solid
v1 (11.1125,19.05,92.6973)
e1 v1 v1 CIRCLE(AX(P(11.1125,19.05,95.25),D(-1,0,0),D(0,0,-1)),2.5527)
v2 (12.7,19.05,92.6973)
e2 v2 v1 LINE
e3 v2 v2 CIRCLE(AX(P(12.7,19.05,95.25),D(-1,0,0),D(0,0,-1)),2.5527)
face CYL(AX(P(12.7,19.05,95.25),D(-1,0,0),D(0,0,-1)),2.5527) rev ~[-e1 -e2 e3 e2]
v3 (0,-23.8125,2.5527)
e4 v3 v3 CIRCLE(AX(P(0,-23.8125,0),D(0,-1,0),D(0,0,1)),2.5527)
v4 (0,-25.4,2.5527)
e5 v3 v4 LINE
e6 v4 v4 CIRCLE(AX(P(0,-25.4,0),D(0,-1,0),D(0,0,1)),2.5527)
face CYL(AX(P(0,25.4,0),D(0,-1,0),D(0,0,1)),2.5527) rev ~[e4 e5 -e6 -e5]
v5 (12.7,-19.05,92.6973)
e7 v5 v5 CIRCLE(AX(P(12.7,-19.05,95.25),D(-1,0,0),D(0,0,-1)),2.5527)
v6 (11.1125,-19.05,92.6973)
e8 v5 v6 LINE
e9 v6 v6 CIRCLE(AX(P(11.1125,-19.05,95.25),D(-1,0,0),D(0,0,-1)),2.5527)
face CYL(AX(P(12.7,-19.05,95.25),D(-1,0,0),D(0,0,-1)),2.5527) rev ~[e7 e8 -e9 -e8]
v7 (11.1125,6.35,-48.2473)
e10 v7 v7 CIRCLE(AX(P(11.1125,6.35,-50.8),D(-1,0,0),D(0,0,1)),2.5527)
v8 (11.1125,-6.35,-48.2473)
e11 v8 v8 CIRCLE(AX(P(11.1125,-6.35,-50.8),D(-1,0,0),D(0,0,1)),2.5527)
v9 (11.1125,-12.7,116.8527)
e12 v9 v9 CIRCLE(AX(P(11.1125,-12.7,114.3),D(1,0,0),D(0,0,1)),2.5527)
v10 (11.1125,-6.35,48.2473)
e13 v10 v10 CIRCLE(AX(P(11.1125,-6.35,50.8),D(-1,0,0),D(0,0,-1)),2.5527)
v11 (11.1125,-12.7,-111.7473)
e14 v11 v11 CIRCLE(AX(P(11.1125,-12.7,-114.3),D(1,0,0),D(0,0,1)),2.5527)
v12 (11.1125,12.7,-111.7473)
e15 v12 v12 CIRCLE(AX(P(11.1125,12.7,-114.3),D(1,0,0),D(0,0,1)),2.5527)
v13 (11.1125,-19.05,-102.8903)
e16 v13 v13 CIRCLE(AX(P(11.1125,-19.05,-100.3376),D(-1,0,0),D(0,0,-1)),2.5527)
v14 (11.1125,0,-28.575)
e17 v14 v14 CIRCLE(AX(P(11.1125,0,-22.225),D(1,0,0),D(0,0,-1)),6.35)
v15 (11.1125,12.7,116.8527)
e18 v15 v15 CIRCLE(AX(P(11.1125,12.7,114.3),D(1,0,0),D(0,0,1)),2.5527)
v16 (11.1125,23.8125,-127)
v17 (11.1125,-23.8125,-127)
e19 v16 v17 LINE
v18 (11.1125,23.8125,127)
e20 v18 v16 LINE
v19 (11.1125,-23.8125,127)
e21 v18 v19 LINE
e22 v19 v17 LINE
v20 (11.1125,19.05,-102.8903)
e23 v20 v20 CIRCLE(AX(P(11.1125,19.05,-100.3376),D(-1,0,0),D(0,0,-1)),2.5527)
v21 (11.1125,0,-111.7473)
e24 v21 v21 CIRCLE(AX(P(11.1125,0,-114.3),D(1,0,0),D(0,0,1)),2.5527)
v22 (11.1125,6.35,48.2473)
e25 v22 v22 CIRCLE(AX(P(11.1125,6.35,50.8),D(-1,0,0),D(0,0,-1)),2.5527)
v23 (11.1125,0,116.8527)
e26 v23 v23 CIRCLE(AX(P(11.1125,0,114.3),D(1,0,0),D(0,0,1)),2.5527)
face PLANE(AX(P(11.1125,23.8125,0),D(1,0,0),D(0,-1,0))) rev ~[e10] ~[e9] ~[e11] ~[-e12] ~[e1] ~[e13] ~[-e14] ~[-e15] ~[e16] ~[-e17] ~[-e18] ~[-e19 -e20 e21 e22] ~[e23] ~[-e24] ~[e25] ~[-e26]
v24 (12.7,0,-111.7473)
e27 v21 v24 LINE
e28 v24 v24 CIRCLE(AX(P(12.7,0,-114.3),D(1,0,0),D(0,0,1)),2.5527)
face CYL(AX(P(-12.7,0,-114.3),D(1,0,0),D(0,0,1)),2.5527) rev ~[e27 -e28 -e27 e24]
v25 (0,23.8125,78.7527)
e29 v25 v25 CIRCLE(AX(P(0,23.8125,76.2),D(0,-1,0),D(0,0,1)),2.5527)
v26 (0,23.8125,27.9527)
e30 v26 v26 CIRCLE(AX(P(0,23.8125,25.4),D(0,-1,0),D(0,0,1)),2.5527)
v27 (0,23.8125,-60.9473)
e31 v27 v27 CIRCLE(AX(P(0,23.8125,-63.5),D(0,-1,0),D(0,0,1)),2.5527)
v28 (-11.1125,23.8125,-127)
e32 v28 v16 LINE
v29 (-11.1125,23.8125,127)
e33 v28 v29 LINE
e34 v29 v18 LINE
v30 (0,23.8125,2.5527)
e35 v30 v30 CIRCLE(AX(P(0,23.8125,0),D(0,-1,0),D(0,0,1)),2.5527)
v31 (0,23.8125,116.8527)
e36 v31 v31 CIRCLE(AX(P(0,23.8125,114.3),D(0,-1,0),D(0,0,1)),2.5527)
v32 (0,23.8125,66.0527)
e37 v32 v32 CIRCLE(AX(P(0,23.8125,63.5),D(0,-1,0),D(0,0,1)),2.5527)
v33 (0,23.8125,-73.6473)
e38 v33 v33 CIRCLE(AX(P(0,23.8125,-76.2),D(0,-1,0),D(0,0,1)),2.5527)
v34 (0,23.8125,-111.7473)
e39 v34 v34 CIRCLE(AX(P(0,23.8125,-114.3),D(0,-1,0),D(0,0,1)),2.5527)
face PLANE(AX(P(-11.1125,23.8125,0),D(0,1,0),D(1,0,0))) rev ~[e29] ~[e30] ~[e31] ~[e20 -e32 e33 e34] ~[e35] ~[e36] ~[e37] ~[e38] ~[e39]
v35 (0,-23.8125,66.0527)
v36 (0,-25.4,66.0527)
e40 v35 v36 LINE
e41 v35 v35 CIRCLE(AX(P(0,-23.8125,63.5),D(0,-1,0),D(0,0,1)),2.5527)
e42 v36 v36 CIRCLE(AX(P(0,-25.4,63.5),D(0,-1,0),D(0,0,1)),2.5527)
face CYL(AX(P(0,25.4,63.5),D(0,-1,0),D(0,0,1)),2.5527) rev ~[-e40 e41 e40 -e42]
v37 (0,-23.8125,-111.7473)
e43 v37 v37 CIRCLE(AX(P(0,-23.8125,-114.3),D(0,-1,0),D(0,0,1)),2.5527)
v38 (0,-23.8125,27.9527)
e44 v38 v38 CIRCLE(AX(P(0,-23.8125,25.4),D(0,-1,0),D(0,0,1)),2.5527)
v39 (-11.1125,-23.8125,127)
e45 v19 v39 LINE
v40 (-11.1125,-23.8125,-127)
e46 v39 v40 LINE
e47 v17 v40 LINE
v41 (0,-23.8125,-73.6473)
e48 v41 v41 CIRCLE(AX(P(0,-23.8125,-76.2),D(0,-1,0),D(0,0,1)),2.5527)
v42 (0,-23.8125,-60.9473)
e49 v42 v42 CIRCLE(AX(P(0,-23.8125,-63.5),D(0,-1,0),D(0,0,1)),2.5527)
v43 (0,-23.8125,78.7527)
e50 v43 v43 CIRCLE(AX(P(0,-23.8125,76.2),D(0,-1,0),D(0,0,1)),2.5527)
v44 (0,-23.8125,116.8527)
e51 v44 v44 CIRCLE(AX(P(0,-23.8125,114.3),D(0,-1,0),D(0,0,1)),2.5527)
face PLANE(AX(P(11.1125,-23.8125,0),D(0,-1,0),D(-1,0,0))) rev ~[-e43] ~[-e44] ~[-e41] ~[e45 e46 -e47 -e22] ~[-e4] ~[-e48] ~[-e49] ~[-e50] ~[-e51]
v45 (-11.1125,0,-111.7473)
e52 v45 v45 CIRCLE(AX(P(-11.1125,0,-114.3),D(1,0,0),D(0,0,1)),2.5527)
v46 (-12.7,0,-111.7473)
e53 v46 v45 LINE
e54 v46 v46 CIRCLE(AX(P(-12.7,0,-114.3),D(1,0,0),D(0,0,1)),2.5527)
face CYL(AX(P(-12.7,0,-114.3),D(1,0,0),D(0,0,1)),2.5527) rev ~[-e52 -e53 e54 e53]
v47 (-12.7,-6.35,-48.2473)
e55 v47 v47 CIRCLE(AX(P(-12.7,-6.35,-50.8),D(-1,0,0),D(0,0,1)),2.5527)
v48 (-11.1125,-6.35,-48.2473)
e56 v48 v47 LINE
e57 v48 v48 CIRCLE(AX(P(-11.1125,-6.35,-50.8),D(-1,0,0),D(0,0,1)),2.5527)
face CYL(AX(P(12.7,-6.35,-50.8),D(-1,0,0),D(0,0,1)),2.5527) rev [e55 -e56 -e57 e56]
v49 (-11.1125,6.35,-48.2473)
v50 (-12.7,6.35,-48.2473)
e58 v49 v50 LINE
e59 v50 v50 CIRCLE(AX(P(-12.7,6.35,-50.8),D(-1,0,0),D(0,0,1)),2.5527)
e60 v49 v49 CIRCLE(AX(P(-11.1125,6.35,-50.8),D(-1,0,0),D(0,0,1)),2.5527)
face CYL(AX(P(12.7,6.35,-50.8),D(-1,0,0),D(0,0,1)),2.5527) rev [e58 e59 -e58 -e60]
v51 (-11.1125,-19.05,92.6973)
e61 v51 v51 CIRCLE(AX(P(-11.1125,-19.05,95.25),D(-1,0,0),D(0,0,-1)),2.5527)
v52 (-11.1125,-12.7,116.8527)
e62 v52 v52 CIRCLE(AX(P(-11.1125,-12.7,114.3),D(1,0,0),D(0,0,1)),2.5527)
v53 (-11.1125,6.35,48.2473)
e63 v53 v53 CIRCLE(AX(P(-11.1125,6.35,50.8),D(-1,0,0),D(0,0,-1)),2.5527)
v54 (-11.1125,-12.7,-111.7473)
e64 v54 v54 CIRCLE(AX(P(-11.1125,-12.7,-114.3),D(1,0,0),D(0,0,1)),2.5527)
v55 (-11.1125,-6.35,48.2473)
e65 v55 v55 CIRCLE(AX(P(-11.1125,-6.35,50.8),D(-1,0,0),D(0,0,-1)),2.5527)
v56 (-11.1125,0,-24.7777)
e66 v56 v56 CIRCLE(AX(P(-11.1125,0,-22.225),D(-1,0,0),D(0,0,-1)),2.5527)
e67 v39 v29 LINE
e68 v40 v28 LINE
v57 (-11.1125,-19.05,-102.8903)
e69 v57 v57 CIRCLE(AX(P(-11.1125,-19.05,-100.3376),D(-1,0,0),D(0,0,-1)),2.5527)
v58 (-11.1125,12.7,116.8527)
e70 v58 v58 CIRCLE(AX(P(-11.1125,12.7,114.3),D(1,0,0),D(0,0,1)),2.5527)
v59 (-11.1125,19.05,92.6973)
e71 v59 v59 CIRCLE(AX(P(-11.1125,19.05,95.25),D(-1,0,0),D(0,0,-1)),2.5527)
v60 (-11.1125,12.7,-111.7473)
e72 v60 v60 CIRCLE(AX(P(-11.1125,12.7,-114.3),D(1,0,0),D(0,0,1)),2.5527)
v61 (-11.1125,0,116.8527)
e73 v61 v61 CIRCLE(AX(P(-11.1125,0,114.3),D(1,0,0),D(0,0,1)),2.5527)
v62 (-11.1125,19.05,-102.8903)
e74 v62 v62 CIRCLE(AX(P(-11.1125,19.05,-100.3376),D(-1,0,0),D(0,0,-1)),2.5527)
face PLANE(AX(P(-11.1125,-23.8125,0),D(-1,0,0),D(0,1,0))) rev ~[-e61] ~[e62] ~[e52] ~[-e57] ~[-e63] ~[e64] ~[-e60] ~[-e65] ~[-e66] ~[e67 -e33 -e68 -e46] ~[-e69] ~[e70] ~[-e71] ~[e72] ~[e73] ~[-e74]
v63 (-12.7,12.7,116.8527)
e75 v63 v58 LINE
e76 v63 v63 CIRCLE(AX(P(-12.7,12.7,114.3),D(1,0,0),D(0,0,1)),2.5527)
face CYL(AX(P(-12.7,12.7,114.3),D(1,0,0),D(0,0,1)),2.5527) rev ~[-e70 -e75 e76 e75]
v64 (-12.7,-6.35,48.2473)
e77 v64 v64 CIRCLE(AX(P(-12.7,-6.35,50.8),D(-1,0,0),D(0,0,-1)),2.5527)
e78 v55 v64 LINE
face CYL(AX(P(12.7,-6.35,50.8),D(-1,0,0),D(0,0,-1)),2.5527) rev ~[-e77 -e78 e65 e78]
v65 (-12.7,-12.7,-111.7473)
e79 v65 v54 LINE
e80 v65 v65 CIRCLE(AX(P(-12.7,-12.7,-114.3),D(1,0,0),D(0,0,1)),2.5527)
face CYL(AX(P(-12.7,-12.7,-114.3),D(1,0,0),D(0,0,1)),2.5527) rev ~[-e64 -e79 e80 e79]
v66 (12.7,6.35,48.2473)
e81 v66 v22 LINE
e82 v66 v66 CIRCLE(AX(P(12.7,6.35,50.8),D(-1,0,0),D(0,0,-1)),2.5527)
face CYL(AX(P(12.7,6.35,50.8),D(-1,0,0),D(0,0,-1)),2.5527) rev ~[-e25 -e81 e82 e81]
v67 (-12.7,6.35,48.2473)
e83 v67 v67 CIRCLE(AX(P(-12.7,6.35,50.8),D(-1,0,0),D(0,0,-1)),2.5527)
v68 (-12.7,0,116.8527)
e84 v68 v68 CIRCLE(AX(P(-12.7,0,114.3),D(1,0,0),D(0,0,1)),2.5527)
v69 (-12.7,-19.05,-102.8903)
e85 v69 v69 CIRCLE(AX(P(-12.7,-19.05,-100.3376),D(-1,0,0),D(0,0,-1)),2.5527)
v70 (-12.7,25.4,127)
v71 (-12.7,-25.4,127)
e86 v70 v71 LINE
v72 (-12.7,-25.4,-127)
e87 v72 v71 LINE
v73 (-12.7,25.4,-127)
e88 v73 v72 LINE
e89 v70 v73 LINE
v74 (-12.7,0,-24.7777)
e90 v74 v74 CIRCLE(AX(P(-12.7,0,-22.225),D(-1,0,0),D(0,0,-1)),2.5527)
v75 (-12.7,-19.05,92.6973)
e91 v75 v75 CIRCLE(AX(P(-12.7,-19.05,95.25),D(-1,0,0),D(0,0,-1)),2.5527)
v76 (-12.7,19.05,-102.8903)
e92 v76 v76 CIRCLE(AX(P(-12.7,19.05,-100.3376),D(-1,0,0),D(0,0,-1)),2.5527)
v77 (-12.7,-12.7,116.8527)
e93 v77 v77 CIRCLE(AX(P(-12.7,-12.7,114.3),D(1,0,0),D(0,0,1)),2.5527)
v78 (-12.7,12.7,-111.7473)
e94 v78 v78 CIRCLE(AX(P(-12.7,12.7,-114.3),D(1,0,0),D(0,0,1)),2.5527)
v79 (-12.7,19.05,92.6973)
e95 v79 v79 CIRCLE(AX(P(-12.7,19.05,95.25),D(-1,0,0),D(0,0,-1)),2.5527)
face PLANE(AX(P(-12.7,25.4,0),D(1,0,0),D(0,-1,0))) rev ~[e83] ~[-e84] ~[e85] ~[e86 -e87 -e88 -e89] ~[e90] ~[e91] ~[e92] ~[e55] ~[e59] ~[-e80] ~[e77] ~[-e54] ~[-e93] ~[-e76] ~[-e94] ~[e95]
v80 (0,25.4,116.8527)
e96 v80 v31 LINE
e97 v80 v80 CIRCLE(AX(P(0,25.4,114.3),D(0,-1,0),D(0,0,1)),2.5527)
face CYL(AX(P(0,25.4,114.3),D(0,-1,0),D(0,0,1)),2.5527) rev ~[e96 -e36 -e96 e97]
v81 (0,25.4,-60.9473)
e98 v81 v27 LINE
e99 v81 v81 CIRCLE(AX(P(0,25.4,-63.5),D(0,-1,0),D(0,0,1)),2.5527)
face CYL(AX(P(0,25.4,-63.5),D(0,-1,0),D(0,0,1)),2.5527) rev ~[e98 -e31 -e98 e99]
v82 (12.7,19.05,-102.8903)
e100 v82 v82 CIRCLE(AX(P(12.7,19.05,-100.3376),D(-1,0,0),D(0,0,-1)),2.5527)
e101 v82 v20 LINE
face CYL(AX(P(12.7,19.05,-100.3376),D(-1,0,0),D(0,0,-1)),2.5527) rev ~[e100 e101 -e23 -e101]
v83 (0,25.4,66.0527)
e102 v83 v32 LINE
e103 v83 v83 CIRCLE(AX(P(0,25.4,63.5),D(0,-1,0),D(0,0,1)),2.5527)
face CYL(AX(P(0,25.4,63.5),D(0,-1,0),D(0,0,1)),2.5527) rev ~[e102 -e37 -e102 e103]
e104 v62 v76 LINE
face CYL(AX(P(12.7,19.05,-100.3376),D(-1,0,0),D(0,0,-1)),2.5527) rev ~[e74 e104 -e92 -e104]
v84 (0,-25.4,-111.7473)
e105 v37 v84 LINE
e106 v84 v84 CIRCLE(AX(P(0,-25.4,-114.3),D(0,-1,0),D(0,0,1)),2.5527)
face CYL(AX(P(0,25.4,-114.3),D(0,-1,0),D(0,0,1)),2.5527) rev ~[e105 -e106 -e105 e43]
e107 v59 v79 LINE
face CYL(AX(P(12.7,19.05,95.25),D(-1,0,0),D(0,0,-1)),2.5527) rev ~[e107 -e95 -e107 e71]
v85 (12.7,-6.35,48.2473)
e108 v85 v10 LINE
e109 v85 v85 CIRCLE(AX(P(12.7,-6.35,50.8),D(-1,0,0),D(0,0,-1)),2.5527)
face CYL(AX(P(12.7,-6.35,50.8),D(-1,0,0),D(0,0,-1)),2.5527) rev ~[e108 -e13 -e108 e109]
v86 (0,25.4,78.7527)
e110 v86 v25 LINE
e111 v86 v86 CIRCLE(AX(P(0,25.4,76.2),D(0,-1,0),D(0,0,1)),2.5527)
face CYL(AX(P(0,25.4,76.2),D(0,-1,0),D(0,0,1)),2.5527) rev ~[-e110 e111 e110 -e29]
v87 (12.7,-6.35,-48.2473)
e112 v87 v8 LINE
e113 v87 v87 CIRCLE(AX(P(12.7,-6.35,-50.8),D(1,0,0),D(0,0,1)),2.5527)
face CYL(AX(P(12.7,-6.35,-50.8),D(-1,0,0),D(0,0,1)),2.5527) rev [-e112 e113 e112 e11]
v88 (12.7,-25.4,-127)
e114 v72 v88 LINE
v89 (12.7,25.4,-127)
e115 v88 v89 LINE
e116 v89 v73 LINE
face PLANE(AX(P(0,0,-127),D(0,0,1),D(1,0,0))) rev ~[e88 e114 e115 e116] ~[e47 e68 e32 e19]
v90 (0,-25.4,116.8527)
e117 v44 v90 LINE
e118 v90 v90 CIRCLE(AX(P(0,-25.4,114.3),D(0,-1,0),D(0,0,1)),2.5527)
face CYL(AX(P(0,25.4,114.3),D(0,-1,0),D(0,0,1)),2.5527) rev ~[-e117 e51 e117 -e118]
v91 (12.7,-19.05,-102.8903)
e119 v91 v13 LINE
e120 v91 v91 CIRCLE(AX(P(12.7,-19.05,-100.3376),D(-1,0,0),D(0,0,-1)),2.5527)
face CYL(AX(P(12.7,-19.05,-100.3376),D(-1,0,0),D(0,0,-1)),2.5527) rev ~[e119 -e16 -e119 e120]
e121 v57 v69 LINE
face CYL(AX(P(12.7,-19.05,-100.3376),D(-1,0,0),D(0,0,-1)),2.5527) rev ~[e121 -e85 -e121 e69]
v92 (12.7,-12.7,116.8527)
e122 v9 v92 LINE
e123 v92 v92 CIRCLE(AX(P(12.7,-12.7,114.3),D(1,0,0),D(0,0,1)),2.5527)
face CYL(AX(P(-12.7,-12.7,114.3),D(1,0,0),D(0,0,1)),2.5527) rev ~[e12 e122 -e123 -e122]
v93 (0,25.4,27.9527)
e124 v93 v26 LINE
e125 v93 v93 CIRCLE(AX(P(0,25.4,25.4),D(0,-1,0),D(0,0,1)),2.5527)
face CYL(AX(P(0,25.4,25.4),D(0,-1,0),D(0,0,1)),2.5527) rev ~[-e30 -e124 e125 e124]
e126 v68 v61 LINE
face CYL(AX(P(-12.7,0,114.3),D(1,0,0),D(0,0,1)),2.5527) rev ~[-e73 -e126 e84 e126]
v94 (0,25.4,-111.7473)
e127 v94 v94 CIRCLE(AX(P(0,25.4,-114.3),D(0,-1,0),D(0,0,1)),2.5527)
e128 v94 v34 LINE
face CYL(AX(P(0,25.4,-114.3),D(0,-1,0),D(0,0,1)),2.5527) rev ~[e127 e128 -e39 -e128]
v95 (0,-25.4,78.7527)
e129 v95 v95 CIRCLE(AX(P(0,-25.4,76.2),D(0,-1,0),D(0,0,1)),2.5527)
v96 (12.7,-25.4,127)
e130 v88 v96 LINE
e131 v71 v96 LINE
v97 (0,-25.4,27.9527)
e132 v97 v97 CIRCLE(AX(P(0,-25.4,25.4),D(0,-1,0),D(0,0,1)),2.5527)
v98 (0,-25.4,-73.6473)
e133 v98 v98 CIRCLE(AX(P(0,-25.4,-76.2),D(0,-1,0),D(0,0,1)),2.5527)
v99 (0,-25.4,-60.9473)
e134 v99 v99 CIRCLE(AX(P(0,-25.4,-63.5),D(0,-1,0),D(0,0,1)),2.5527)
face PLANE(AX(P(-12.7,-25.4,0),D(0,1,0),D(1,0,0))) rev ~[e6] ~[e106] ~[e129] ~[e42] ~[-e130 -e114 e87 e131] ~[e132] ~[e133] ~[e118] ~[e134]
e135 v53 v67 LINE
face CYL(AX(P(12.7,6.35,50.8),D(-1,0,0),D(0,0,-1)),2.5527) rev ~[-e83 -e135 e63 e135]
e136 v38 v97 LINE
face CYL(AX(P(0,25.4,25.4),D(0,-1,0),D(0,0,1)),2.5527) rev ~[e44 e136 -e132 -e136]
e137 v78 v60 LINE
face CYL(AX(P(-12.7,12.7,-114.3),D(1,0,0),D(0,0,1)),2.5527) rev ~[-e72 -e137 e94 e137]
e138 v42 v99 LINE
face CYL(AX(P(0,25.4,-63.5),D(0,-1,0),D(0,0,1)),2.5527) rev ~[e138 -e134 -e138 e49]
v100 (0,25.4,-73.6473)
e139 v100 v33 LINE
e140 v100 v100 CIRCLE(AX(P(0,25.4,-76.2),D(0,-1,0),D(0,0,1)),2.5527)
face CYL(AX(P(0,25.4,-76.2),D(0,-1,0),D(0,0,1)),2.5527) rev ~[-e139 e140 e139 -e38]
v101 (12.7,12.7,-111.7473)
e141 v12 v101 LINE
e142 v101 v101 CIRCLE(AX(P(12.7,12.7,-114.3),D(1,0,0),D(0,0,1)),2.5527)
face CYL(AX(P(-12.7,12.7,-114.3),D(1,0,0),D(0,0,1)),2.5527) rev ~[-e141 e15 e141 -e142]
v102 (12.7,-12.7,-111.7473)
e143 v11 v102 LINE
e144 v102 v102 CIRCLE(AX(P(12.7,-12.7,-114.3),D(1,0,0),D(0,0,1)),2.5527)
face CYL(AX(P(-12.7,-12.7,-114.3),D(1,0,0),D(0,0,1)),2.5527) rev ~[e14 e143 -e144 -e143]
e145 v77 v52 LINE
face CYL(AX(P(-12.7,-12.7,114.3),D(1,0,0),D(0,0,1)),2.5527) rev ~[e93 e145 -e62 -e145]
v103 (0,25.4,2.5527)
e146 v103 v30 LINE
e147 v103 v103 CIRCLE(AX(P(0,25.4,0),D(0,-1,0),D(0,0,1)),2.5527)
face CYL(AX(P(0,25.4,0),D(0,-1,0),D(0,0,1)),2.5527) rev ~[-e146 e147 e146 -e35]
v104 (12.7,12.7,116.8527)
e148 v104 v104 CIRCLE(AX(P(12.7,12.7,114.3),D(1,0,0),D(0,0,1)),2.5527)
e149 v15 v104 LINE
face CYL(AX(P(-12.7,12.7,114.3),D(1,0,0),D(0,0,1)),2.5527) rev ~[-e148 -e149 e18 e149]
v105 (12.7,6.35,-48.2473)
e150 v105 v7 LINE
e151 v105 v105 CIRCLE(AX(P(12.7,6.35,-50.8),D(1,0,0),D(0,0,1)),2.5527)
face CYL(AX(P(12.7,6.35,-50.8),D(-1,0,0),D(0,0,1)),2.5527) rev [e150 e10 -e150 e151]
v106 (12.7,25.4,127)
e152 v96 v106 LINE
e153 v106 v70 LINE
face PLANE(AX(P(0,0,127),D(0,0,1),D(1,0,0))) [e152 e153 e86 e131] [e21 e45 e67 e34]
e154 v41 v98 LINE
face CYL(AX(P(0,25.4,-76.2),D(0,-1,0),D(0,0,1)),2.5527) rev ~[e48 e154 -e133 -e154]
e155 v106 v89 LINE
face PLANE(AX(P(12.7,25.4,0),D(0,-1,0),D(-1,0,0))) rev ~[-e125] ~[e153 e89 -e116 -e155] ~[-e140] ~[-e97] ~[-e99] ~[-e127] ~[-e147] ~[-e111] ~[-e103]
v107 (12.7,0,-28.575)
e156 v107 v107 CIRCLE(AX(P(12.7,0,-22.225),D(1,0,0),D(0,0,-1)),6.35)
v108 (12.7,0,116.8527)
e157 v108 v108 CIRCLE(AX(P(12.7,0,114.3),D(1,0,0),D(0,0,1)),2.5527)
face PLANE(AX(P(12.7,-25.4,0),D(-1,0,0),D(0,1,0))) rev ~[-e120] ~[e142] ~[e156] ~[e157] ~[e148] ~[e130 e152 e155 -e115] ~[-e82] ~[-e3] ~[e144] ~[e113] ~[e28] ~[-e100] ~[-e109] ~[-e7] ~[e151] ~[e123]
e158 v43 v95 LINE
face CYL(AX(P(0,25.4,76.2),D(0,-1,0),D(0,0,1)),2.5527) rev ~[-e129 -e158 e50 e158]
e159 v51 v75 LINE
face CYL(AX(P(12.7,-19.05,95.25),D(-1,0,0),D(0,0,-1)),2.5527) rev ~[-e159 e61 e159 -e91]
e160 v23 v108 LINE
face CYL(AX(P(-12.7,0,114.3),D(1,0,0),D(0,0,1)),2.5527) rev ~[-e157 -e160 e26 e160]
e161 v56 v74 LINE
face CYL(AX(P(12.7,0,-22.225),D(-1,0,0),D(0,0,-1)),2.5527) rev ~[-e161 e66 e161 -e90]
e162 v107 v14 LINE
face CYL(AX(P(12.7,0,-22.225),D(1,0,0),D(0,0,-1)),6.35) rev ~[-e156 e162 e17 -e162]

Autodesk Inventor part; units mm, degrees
ref_plane "YZ Plane" through (0, 0, 0) normal (1, 0, 0) x (0, 1, 0)
ref_plane "XZ Plane" through (0, 0, 0) normal (0, 1, 0) x (-1, 0, 0)
ref_plane "XY Plane" through (0, 0, 0) normal (0, 0, 1) x (1, 0, 0)
sketch "Sketch1" plane through (0, 0, 0) normal (0, 0, 1) x (1, 0, 0)
  line L0 (-12.7, -25.4) -> (12.7, -25.4)
  line L1 (12.7, -25.4) -> (12.7, 25.4)
  line L2 (12.7, 25.4) -> (-12.7, 25.4)
  line L3 (-12.7, 25.4) -> (-12.7, -25.4)
  line L4 (-12.7, -25.4) -> (12.7, 25.4) construction
  line L5 (12.7, -25.4) -> (-12.7, 25.4) construction
  line L6 (-11.1125, 23.8125) -> (11.1125, 23.8125)
  line L7 (11.1125, 23.8125) -> (11.1125, -23.8125)
  line L8 (11.1125, -23.8125) -> (-11.1125, -23.8125)
  line L9 (-11.1125, -23.8125) -> (-11.1125, 23.8125)
  point P0 (0, 0)
  dimension "width" = 25.4
  dimension "height" = 50.8
  dimension "thickness" = 1.5875
extrude "Extrusion1" add sketch "Sketch1" along normal mid plane 254
sketch "Sketch2" plane through (-12.7, -25.4, 127) normal (-1, 0, 0) x (0, 0, 1)
  line L0 (-254, 0) -> (-254, 50.8) construction
  line L1 (-254, 50.8) -> (0, 50.8) construction
  line L2 (0, 50.8) -> (0, 0) construction
  line L3 (0, 0) -> (-254, 0) construction
  point P0 (-127, 25.4)
  point P1 (-241.3, 38.1)
  point P2 (-241.3, 25.4)
  point P3 (-241.3, 12.7)
  point P4 (-12.7, 38.1)
  point P5 (-12.7, 25.4)
  point P6 (-12.7, 12.7)
  point P7 (-254, 25.4)
  dimension "d5" = 12.7
  dimension "d6" = 12.7
  dimension "d7" = 12.7
  dimension "d8" = 12.7
hole "Block Mount Holes" at (-12.7, 12.7, -114.3) at (-12.7, 0, -114.3) at (-12.7, -12.7, -114.3) at (-12.7, 12.7, 114.3) at (-12.7, 0, 114.3) at (-12.7, -12.7, 114.3) direction (1, 0, 0) diameter 5.1054 end through all clearance for "Flat Head Machine Screw (82)" size "#10" standard "Ansi Unified Screw Threads"
sketch "Sketch4" plane through (-12.7, 25.4, 127) normal (0, 1, 0) x (1, 0, 0)
  line L0 (0, 254) -> (25.4, 254) projected
  line L1 (12.7, 190.5) -> (12.7, 63.5) construction
  point P0 (12.7, 127)
  point P1 (12.7, 254)
  point P2 (12.7, 203.2)
  point P3 (12.7, 50.8)
  point P4 (12.7, 127)
  dimension "d61" = 12.7
  dimension "d65" = 127
  dimension "d66" = 12.7
hole "Hole3" at (0, 25.4, 63.5) at (0, 25.4, -63.5) at (0, 25.4, -76.2) at (0, 25.4, 76.2) direction (0, -1, 0) diameter 5.1054 end through all clearance for "Flat Head Machine Screw (82)" size "#10" standard "Ansi Unified Screw Threads"
sketch "Sketch8" plane through (-12.7, 25.4, 127) normal (0, 1, 0) x (1, 0, 0)
  circle A0 centre (12.7, 203.2) radius 2.5527 construction
  circle A1 centre (12.7, 63.5) radius 2.5527 construction
  circle A2 centre (12.7, 190.5) radius 2.5527 construction
  circle A3 centre (12.7, 50.8) radius 2.5527 construction
  line L0 (0, 254) -> (25.4, 254) construction
  line L1 (25.4, 254) -> (25.4, 0) construction
  line L2 (25.4, 0) -> (0, 0) construction
  line L3 (0, 0) -> (0, 254) construction
  point P0 (12.7, 127)
  point P1 (12.7, 127)
  point P2 (12.7, 101.6)
  point P3 (9.9314, 152.4)
  dimension "d67" = 25.4
  dimension "d68" = 25.4
hole "Hole5" at (0, 25.4, 0) at (0, 25.4, 25.4) direction (0, -1, 0) diameter 5.1054 end through all clearance for "Flat Head Machine Screw (82)" size "#10" standard "Ansi Unified Screw Threads"
sketch "Sketch9" plane through (-12.7, 25.4, 127) normal (0, 1, 0) x (1, 0, 0)
  line L0 (0, 254) -> (25.4, 254) projected
  line L1 (25.4, 0) -> (0, 0) projected
  point P0 (12.7, 127)
  point P1 (12.7, 12.7)
  point P2 (12.7, 241.3)
  point P3 (12.7, 254)
  point P4 (12.7, 254)
  point P5 (12.7, 0)
  dimension "d79" = 12.7
  dimension "d80" = 12.7
hole "Hole6" at (0, 25.4, 114.3) at (0, 25.4, -114.3) direction (0, -1, 0) diameter 5.1054 end through all clearance for "Flat Head Machine Screw (82)" size "#10" standard "Ansi Unified Screw Threads"
sketch "Sketch10" plane through (12.7, -25.4, 127) normal (1, 0, 0) x (0, 0, -1)
  line L0 (254, 50.8) -> (254, 0) projected
  line L1 (184.15, 40.3225) -> (184.15, 10.4775) construction
  point P0 (127, 25.4)
  point P1 (184.15, 25.4)
  point P2 (254, 25.4)
  point P3 (149.225, 25.4)
  point P4 (254, 25.4)
  dimension "d88" = 69.85
  dimension "d89" = 29.845
  dimension "d97" = 104.775
hole "Hole8" at (12.7, 0, -22.225) direction (-1, 0, 0) diameter 5.1054 end through all clearance for "Flat Head Machine Screw (82)" size "#10" standard "Ansi Unified Screw Threads"
sketch "Sketch11" plane through (12.7, -25.4, 127) normal (1, 0, 0) x (0, 0, -1)
  line L0 (76.2, 31.75) -> (76.2, 19.05) construction
  line L1 (0, 0) -> (0, 50.8) construction
  point P0 (127, 25.4)
  point P1 (76.2, 25.4)
  point P2 (0, 25.4)
  dimension "d105" = 76.2
  dimension "d106" = 12.7
hole "Hole9" at (12.7, 6.35, 50.8) at (12.7, -6.35, 50.8) direction (-1, 0, 0) diameter 5.1054 end through all clearance for "Flat Head Machine Screw (82)" size "#10" standard "Ansi Unified Screw Threads"
mirror "Mirror1" about plane through (0, 0, 0) normal (0, 0, 1) of "Hole9"
sketch "Sketch13" plane through (12.7, -25.4, 127) normal (1, 0, 0) x (0, 0, -1)
  circle A0 centre (177.8, 19.05) radius 2.5527 projected
  circle A1 centre (177.8, 31.75) radius 2.5527 projected
  circle A2 centre (76.2, 31.75) radius 2.5527 projected
  circle A3 centre (76.2, 19.05) radius 2.5527 projected
  circle A4 centre (149.225, 25.4) radius 2.5527 projected
  circle A5 centre (12.7, 25.4) radius 2.5527 projected
  circle A6 centre (241.3, 12.7) radius 2.5527 projected
  circle A7 centre (241.3, 38.1) radius 2.5527 projected
  circle A8 centre (241.3, 25.4) radius 2.5527 projected
  circle A9 centre (12.7, 38.1) radius 2.5527 projected
  circle A10 centre (12.7, 12.7) radius 2.5527 projected
  line L0 (254, 50.8) -> (254, 0) projected
  line L1 (254, 0) -> (0, 0) projected
  line L2 (0, 0) -> (0, 50.8) projected
  line L3 (0, 50.8) -> (254, 50.8) projected
  circle A11 centre (149.225, 25.4) radius 2.5527 projected
  circle A12 centre (149.225, 25.4) radius 6.35
  point P0 (127, 25.4)
  dimension "d117" = 12.7
extrude "Extrusion5" cut sketch "Sketch13" against normal up to surface (1.5875 mm away) contours A12
sketch "Sketch14" plane through (12.7, -25.4, 127) normal (1, 0, 0) x (0, 0, -1)
  line L0 (227.3376, 44.45) -> (227.3376, 6.35) construction
  line L1 (254, 50.8) -> (254, 0) construction
  line L2 (31.75, 44.45) -> (31.75, 6.35) construction
  line L3 (0, 0) -> (0, 50.8) construction
  point P0 (127, 25.4)
  point P1 (227.3376, 25.4)
  point P2 (254, 25.4)
  point P3 (31.75, 25.4)
  point P4 (0, 25.4)
  dimension "d120" = 38.1
  dimension "d121" = 26.6624
  dimension "d129" = 38.1
  dimension "d130" = 31.75
hole "Hole10" at (12.7, 19.05, -100.3376) at (12.7, -19.05, -100.3376) at (12.7, 19.05, 95.25) at (12.7, -19.05, 95.25) direction (-1, 0, 0) diameter 5.1054 end through all clearance for "Flat Head Machine Screw (82)" size "#10" standard "Ansi Unified Screw Threads"
equation "\"d6\" = d5"
equation "\"d8\" = d7"
equation "\"d80\" = d79"
properties part number "EL2-C-005" material "Aluminum 6061"
